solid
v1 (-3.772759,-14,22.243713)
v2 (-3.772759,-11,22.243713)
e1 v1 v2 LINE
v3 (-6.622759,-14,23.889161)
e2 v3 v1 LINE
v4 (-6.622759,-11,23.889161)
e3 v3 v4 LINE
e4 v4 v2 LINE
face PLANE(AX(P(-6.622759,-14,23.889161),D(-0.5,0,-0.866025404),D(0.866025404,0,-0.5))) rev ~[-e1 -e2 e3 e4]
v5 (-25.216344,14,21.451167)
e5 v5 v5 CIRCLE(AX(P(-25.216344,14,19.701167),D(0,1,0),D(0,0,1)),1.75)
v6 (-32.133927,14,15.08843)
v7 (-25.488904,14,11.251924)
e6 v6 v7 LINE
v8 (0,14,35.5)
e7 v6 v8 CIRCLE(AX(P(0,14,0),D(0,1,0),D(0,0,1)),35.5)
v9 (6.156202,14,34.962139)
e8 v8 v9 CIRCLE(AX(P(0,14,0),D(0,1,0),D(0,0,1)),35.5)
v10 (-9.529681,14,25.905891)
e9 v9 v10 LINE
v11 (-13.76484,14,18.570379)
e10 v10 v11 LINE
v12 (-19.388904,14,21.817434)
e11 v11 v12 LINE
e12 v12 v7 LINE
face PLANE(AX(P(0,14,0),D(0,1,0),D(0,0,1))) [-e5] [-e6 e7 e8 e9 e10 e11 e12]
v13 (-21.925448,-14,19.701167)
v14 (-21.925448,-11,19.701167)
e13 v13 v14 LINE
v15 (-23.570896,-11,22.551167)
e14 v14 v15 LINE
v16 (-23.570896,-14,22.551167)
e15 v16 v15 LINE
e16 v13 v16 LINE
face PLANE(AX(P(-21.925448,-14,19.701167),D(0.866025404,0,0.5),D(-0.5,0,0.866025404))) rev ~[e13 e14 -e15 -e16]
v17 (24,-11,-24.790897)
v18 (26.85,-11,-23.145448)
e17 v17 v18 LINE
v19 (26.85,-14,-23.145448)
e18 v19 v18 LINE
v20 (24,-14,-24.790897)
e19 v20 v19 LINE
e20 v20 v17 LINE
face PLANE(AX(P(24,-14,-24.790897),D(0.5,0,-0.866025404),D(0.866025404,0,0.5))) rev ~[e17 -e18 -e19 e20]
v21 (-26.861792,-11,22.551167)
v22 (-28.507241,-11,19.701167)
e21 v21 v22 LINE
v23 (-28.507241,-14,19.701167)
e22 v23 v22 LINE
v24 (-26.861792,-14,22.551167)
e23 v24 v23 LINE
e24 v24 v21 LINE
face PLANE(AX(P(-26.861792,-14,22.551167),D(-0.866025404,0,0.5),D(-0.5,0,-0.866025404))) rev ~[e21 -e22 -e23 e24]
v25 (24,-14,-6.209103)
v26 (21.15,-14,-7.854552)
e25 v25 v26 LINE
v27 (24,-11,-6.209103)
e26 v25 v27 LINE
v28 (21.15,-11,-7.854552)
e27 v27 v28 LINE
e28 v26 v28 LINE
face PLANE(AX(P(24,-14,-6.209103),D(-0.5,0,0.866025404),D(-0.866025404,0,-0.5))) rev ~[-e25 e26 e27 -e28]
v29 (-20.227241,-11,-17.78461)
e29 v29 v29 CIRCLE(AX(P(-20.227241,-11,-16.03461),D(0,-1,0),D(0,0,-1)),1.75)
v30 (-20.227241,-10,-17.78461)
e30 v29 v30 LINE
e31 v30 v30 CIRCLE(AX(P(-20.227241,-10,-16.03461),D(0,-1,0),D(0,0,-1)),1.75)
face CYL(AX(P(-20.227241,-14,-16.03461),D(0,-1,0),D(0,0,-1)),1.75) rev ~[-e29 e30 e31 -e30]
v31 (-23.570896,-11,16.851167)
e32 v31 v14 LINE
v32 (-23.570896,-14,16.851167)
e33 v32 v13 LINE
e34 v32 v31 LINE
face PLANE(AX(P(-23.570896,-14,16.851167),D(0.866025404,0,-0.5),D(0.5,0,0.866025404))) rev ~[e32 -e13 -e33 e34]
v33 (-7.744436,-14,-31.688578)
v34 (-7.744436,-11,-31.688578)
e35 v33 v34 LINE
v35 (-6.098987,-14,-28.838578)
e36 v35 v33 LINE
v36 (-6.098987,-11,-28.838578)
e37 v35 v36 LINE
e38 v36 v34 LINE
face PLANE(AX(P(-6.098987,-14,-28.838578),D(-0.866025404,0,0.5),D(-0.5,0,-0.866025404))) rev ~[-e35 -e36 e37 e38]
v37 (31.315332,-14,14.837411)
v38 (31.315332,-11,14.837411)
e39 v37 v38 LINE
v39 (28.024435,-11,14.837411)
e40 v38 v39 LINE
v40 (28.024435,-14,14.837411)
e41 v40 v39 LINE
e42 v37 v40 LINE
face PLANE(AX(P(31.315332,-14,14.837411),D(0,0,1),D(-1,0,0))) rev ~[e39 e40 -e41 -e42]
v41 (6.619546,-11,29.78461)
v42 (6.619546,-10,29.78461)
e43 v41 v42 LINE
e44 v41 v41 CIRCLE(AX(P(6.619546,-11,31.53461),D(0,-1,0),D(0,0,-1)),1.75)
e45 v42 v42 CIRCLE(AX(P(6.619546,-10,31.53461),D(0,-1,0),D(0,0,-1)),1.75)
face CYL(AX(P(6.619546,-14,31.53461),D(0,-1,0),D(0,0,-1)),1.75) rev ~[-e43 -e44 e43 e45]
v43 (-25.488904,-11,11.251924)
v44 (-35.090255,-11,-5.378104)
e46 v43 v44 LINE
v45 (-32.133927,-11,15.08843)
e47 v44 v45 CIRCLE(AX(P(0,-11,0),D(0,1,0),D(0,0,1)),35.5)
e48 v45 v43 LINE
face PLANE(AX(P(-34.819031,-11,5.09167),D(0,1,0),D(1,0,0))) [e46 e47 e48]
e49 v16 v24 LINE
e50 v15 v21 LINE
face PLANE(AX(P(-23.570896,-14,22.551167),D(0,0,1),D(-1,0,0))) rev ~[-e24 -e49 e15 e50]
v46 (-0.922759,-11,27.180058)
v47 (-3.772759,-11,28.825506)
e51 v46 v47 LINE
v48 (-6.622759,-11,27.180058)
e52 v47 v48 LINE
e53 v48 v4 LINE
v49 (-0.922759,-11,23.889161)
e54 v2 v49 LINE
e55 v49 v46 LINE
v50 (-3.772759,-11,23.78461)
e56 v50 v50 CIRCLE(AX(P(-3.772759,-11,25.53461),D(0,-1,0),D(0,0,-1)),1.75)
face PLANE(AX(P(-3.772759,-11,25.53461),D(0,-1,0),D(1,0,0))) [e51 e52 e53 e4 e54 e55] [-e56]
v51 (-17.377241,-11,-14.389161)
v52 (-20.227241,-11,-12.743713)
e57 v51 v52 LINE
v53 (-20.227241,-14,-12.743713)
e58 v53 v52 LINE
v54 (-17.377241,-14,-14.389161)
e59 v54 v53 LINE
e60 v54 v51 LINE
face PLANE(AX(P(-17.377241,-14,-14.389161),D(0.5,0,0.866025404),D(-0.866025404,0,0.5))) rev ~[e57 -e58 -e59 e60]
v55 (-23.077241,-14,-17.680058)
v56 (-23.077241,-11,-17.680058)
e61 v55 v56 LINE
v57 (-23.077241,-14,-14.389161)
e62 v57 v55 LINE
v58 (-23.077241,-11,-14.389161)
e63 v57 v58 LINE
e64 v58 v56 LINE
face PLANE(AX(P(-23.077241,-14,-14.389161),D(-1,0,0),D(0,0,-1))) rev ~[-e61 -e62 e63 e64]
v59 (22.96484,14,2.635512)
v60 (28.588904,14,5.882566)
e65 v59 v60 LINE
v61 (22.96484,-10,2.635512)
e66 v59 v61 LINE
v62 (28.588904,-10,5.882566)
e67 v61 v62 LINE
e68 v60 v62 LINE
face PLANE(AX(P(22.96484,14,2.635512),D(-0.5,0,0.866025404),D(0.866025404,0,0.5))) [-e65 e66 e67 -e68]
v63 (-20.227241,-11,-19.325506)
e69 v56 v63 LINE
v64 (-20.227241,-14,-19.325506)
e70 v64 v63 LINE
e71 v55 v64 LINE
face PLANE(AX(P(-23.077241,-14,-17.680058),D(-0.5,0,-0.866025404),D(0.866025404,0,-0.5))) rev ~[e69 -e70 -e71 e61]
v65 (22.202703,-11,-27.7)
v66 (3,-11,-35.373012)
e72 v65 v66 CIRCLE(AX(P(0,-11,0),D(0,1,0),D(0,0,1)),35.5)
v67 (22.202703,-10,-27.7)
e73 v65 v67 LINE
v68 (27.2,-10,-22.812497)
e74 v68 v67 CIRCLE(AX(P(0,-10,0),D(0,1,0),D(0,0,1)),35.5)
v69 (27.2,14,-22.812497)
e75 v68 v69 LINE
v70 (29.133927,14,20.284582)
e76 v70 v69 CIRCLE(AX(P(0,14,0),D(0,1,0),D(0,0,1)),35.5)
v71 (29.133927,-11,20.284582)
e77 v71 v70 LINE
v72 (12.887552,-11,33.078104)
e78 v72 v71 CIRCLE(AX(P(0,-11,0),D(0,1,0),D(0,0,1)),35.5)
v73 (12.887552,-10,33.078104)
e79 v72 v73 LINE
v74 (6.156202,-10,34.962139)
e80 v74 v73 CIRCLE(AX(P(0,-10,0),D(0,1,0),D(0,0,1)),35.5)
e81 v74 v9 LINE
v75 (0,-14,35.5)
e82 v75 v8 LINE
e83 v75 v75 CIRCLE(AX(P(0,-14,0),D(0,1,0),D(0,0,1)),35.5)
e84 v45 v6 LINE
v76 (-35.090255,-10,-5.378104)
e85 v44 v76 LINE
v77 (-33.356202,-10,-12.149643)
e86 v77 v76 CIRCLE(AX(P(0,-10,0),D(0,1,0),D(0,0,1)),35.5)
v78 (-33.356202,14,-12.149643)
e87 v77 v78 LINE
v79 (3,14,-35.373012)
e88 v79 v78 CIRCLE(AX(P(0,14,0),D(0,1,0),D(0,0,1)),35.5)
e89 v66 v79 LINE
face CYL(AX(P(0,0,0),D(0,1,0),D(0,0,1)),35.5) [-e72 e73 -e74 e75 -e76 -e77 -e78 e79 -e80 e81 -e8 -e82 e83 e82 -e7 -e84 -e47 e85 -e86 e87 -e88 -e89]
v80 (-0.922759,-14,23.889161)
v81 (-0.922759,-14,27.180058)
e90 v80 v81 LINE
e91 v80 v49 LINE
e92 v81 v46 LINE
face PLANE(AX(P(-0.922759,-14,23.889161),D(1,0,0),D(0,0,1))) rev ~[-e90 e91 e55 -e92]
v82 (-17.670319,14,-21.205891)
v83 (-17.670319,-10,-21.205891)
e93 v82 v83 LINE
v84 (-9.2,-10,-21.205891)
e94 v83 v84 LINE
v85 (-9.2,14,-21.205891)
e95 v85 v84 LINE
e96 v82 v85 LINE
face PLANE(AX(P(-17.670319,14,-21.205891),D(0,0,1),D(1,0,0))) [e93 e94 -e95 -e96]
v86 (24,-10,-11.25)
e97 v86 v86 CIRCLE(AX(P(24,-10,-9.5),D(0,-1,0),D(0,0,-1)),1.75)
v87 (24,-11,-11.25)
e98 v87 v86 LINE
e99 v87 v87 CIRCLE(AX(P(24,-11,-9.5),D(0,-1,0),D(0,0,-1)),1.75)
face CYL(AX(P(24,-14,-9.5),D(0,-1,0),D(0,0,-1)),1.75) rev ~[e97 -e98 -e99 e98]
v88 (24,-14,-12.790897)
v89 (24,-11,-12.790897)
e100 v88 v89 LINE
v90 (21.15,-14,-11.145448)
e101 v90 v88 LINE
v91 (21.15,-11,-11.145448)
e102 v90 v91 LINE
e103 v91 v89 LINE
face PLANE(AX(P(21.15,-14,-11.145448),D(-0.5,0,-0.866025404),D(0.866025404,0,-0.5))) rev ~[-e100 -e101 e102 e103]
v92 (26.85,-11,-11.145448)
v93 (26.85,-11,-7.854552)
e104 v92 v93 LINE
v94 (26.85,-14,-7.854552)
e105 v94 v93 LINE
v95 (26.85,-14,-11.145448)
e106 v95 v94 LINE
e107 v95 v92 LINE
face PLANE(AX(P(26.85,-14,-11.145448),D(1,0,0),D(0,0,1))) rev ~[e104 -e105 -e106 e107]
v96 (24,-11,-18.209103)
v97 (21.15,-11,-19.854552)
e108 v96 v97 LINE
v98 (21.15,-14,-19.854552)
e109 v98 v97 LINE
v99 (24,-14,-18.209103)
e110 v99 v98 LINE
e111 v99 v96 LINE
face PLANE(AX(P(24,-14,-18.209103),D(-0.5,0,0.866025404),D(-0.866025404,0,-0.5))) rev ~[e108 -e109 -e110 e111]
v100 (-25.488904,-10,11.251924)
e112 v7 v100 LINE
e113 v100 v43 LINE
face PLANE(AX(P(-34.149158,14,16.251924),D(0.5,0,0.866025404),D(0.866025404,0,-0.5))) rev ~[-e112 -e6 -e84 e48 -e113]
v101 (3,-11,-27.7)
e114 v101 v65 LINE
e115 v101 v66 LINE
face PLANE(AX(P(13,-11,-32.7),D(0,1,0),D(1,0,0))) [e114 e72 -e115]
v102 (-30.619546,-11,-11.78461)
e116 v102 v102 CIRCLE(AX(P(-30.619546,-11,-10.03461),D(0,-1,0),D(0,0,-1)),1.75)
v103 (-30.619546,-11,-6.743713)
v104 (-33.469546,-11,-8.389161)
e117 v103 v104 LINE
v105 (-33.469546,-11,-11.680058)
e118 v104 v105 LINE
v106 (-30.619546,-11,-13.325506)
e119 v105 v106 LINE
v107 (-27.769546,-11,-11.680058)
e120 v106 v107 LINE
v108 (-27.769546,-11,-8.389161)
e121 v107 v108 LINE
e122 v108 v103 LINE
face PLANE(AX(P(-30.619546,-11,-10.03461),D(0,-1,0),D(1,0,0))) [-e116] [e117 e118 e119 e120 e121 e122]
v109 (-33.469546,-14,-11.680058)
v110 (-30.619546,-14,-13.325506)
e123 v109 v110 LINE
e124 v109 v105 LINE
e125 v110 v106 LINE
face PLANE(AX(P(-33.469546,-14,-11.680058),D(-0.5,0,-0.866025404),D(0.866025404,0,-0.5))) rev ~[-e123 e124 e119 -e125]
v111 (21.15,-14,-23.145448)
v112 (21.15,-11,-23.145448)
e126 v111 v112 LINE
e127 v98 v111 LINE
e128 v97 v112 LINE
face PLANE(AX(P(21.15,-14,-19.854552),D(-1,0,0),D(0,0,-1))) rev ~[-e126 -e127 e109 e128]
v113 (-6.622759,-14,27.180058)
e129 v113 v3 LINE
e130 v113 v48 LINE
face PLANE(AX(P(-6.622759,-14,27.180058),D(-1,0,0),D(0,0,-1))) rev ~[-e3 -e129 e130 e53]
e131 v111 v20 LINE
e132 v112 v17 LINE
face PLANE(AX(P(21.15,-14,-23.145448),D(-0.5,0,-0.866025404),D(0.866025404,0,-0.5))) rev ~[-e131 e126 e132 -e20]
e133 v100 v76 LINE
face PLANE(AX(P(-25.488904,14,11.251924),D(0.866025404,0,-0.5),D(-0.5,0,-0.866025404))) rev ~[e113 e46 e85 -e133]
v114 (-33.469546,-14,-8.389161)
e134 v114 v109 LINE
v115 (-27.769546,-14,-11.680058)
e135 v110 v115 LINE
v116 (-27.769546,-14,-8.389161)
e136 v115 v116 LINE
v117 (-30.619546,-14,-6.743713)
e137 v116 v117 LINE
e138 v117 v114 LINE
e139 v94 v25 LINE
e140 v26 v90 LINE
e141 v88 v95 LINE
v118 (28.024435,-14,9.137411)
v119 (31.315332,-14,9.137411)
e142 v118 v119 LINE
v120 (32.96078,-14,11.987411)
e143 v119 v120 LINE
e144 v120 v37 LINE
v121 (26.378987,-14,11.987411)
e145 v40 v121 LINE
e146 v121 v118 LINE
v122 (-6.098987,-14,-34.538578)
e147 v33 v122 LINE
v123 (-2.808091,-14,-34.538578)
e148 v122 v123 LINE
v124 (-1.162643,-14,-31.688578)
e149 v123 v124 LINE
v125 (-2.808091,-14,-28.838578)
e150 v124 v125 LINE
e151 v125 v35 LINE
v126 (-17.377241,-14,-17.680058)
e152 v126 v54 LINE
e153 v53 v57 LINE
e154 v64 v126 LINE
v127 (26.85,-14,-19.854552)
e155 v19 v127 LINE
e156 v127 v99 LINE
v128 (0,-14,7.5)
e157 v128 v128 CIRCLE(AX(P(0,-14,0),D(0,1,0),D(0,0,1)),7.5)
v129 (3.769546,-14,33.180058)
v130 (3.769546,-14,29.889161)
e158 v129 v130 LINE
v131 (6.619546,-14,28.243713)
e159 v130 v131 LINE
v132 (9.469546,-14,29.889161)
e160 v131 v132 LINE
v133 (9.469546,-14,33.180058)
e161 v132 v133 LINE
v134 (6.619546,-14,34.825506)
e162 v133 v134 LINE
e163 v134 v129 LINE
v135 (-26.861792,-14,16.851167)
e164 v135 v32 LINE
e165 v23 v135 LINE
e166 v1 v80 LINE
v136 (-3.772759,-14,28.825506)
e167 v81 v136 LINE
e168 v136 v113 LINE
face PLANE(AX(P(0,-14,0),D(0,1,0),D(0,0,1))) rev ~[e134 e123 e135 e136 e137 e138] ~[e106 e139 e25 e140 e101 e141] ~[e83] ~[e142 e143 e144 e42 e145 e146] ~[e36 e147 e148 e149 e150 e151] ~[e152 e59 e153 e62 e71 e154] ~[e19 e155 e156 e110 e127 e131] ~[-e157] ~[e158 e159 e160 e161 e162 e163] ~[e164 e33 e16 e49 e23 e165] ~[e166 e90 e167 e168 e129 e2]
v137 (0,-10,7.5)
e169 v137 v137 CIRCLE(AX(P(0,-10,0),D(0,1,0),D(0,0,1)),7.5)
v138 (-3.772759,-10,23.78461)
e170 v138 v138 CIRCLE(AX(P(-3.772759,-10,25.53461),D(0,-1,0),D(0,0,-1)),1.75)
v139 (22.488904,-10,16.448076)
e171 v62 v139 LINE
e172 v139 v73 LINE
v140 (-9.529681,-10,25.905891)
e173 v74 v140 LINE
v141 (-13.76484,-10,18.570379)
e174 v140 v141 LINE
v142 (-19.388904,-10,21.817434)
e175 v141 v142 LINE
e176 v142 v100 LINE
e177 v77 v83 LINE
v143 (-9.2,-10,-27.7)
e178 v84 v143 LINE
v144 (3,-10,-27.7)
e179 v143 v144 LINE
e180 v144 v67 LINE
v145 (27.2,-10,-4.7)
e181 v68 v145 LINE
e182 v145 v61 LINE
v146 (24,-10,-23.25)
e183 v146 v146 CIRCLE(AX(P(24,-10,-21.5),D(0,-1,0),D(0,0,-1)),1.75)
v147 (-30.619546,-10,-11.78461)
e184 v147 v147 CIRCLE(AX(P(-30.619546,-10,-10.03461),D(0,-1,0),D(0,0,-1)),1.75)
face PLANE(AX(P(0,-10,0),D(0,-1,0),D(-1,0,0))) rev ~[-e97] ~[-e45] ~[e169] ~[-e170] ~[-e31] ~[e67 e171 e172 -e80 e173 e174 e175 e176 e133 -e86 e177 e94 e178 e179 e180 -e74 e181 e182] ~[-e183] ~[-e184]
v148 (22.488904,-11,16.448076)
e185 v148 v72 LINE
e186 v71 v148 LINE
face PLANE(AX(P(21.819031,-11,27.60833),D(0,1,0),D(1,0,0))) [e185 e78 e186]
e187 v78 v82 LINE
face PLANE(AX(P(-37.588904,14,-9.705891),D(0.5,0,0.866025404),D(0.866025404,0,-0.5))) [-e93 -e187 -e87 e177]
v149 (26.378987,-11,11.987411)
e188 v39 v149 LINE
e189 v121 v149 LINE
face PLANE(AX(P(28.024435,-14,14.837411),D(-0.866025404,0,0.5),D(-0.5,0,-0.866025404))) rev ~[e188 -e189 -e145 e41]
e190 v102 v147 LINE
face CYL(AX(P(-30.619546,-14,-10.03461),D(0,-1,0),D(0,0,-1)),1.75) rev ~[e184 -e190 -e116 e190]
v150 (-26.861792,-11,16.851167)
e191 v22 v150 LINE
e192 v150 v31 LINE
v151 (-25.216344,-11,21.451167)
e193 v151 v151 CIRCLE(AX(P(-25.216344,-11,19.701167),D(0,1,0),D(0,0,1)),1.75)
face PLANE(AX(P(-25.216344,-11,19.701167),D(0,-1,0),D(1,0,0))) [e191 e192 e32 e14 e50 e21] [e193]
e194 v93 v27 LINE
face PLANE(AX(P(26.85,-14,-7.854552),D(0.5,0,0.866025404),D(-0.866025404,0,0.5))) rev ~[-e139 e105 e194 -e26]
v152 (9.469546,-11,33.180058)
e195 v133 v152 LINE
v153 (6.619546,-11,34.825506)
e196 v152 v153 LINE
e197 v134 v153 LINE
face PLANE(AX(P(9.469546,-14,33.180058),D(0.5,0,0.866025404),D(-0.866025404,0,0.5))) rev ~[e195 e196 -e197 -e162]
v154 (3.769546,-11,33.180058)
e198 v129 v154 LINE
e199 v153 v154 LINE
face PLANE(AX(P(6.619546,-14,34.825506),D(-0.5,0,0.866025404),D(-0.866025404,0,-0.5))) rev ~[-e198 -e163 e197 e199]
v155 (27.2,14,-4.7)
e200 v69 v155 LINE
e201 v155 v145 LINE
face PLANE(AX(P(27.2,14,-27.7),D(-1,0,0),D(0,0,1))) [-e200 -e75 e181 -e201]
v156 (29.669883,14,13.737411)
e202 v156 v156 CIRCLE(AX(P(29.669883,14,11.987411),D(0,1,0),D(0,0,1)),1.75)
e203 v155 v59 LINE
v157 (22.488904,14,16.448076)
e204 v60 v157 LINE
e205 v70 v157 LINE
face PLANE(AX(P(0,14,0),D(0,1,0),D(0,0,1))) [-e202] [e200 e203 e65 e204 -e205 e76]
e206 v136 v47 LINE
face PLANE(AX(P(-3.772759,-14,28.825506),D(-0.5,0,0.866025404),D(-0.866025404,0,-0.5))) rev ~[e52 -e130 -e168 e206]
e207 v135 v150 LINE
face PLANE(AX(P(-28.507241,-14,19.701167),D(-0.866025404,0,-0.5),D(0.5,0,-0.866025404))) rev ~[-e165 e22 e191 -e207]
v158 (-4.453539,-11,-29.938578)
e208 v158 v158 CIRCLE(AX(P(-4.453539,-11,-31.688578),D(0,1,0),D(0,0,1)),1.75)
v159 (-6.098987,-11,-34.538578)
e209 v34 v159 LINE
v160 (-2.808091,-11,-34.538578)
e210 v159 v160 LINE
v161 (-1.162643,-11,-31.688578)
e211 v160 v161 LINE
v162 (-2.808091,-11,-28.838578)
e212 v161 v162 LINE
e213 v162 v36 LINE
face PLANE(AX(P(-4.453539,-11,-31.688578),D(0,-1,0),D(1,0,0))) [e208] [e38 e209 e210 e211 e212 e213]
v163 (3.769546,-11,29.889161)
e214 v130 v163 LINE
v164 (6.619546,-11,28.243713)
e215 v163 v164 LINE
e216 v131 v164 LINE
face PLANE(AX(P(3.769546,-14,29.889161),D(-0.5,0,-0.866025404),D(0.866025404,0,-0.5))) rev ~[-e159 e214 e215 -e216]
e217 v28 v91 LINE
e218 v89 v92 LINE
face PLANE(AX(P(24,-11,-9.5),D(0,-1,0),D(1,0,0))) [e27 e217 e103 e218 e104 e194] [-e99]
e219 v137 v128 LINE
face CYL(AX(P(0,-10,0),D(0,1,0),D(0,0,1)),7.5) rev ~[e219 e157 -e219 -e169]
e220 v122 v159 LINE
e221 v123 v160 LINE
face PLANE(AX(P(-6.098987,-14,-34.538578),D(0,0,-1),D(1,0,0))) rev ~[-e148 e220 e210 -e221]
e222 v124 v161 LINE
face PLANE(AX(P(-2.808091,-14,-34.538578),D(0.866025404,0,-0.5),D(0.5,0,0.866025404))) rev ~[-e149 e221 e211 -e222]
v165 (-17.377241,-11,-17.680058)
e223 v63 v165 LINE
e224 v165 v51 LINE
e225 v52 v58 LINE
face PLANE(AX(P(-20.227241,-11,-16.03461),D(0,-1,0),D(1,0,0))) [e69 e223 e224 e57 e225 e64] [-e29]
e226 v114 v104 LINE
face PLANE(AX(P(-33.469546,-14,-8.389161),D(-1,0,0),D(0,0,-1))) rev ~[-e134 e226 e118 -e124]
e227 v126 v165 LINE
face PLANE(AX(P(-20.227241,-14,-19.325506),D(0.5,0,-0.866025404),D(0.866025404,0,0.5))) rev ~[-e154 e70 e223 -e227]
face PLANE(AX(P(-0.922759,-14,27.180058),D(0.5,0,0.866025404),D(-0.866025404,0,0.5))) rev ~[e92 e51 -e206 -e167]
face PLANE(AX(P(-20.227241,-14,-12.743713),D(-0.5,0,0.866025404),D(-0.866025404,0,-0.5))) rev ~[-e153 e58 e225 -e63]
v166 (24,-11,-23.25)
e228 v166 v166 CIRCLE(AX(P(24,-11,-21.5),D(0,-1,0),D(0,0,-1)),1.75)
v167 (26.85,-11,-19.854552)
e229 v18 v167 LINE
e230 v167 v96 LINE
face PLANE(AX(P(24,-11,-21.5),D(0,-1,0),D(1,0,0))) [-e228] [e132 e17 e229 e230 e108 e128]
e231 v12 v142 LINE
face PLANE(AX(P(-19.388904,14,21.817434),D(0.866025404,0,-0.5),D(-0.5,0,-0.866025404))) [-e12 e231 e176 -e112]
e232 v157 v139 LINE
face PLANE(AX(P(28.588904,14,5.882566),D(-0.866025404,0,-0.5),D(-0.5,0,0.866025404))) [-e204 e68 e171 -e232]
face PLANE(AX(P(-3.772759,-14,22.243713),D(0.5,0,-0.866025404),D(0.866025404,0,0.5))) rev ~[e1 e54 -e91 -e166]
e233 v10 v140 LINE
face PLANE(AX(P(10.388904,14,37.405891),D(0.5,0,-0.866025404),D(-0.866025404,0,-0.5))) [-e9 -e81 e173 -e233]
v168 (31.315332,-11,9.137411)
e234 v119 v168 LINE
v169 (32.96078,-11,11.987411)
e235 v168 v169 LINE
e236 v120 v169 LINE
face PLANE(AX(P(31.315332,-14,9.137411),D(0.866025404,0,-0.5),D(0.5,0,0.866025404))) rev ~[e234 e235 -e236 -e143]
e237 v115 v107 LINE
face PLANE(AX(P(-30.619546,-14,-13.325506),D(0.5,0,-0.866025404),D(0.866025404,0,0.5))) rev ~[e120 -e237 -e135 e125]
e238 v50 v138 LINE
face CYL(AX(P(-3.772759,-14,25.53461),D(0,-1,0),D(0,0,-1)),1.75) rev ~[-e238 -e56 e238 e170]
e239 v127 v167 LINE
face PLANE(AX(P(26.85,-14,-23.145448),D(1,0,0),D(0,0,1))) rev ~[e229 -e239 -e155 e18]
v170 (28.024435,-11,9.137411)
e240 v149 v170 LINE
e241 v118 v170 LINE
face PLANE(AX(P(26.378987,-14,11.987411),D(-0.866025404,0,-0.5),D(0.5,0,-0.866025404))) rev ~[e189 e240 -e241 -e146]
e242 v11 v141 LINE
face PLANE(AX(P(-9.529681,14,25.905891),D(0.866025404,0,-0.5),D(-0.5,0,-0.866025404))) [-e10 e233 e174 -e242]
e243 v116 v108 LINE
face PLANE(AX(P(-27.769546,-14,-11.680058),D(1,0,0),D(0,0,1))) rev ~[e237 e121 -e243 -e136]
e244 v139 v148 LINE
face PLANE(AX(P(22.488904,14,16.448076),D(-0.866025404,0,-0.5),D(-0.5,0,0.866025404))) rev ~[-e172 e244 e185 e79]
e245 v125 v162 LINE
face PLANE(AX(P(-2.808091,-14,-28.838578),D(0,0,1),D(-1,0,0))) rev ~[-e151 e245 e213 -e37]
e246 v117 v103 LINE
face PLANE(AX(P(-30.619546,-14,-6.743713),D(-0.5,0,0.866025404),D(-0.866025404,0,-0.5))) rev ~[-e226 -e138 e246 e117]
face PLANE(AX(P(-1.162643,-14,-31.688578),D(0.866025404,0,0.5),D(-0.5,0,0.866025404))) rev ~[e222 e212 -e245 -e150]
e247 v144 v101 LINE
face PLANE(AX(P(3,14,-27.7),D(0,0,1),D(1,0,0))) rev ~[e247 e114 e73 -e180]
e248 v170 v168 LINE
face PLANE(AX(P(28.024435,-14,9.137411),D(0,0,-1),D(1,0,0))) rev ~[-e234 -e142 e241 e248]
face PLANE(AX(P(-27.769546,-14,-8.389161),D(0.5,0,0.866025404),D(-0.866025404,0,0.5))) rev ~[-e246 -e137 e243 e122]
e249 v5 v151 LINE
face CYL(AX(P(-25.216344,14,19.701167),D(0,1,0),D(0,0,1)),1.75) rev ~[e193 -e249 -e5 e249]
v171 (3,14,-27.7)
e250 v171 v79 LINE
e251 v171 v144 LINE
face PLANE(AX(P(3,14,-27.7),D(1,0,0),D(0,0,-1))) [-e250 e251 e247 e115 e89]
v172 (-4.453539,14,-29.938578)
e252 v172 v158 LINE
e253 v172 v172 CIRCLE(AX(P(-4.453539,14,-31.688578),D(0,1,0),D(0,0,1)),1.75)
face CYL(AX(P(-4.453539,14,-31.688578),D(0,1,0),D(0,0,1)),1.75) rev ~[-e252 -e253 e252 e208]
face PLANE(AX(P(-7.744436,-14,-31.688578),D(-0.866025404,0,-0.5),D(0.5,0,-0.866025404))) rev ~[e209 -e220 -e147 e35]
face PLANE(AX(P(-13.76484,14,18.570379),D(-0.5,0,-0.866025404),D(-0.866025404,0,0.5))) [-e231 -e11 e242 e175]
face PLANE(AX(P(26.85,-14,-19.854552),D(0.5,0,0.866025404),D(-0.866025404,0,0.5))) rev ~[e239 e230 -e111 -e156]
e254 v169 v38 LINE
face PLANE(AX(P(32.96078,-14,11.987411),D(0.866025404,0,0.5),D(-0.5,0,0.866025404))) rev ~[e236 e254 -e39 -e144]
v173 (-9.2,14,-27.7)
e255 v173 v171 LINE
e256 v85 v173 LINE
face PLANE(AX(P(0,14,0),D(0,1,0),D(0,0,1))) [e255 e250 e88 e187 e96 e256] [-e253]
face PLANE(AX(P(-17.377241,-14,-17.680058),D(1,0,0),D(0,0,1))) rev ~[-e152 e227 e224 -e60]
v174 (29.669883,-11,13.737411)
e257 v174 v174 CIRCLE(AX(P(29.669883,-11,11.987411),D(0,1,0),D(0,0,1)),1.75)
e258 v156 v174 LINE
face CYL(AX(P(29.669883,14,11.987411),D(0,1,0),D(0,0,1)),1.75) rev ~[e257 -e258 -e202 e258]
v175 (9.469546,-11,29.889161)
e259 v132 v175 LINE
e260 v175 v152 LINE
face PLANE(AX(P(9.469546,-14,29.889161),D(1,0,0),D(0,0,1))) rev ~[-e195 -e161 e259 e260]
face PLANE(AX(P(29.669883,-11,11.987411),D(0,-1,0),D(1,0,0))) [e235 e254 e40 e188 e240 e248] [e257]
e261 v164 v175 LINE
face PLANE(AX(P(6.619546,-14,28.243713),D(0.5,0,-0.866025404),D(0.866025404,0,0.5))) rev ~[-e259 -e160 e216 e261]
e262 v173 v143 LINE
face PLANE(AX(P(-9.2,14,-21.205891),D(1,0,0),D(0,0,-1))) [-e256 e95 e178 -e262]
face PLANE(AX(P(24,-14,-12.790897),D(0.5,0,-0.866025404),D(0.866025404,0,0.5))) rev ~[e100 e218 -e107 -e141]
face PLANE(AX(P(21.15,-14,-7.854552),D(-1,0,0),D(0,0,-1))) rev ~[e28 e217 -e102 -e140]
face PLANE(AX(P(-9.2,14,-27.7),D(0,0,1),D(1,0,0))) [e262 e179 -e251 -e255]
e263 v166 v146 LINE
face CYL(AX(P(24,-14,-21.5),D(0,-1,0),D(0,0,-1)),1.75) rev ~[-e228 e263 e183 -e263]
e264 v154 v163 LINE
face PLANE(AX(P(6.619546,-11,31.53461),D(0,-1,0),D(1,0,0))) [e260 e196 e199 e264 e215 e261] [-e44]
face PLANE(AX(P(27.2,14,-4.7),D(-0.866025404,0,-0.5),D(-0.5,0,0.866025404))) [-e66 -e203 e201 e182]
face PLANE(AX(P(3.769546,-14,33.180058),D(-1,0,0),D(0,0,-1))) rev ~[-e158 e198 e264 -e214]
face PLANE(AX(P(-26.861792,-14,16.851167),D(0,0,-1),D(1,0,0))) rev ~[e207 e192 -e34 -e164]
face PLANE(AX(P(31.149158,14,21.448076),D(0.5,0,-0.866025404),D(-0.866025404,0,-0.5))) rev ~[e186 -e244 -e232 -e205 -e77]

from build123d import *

# Parameters (mm, degrees)
SKETCH1_R           = 35.5
BOSS_EXTRUDE1_DEPTH = 14
CUT_EXTRUDE1_DEPTH  = 24
SKETCH3_W           = 20
SKETCH3_H           = 10
CUT_EXTRUDE2_DEPTH  = 25
SKETCH4_R           = 1.75
CUT_EXTRUDE3_DEPTH  = 58.484780595
CUT_EXTRUDE4_DEPTH  = 3
SKETCH6_R           = 1.75
CUT_EXTRUDE5_DEPTH  = 58.484780595
CUT_EXTRUDE6_DEPTH  = 3
SKETCH8_R           = 7.5
CUT_EXTRUDE7_DEPTH  = 56.646203824


with BuildPart() as part:
    # Sketch1 → Boss-Extrude1 (new, symmetric)
    with BuildSketch(Plane(origin=(0, 0, 0), x_dir=(1, 0, 0), z_dir=(0, 1, 0))):
        with Locations(Location((0, 0, 0), (0, 0, 270))):
            Circle(SKETCH1_R)
    extrude(amount=BOSS_EXTRUDE1_DEPTH, both=True)

    # Sketch2 → Cut-Extrude1 (cut)
    with BuildSketch(Plane(origin=(0, 14, 0), x_dir=(1, 0, 0), z_dir=(0, 1, 0))):
        Polygon((27.2, 27.7), (27.2, 4.7), (22.964840301, -2.635511777), (28.588903685, -5.882566285), (10.388903685, -37.405890983), (-9.529680602, -25.905890983), (-13.764840301, -18.570379206), (-19.388903685, -21.817433715), (-37.588903685, 9.705890983), (-17.670319398, 21.205890983), (-9.2, 21.205890983), (-9.2, 27.7), align=None)
    extrude(amount=-CUT_EXTRUDE1_DEPTH, mode=Mode.SUBTRACT)

    # Sketch3 → Cut-Extrude2 (cut)
    with BuildSketch(Plane(origin=(0, 14, 0), x_dir=(1, 0, 0), z_dir=(0, 1, 0))):
        Polygon((-35.488903685, 6.068584287), (-44.149157723, 1.068584287), (-34.149157723, -16.251923789), (-25.488903685, -11.251923789), align=None)
        with Locations((13, 32.7)):
            Rectangle(SKETCH3_W, SKETCH3_H)
        Polygon((12.488903685, -33.768584287), (21.149157723, -38.768584287), (31.149157723, -21.448076211), (22.488903685, -16.448076211), align=None)
    extrude(amount=-CUT_EXTRUDE2_DEPTH, mode=Mode.SUBTRACT)

    # Sketch4 → Cut-Extrude3 (cut, through all)
    with BuildSketch(Plane(origin=(0, 14, 0), x_dir=(1, 0, 0), z_dir=(0, 1, 0))):
        with Locations(Location((-4.453539231, 31.6885782, 0), (0, 0, 270))):
            Circle(SKETCH4_R)
        with Locations(Location((29.669883346, -11.987410989, 0), (0, 0, 270))):
            Circle(SKETCH4_R)
        with Locations(Location((-25.216344115, -19.70116721, 0), (0, 0, 270))):
            Circle(SKETCH4_R)
    extrude(amount=-CUT_EXTRUDE3_DEPTH, mode=Mode.SUBTRACT)

    # Sketch5 → Cut-Extrude4 (cut)
    with BuildSketch(Plane.XZ.offset(14)):
        Polygon((-26.861792383, 22.55116721), (-28.50724065, 19.70116721), (-26.861792383, 16.85116721), (-23.570895848, 16.85116721), (-21.925447581, 19.70116721), (-23.570895848, 22.55116721), align=None)
        Polygon((32.960779881, 11.987410989), (31.315331613, 14.837410989), (28.024435079, 14.837410989), (26.378986812, 11.987410989), (28.024435079, 9.137410989), (31.315331613, 9.137410989), align=None)
        Polygon((-6.098987498, -34.5385782), (-2.808090964, -34.5385782), (-1.162642696, -31.6885782), (-2.808090964, -28.8385782), (-6.098987498, -28.8385782), (-7.744435765, -31.6885782), align=None)
    extrude(amount=-CUT_EXTRUDE4_DEPTH, mode=Mode.SUBTRACT)

    # Sketch6 → Cut-Extrude5 (cut, through all)
    with BuildSketch(Plane.XZ.offset(14)):
        with Locations(Location((6.619546181, 31.534609691, 0), (0, 0, 270))):
            Circle(SKETCH6_R)
        with Locations(Location((-3.772758664, 25.534609691, 0), (0, 0, 270))):
            Circle(SKETCH6_R)
        with Locations(Location((24, -21.5, 0), (0, 0, 270))):
            Circle(SKETCH6_R)
        with Locations(Location((24, -9.5, 0), (0, 0, 270))):
            Circle(SKETCH6_R)
        with Locations(Location((-30.619546181, -10.034609691, 0), (0, 0, 270))):
            Circle(SKETCH6_R)
        with Locations(Location((-20.227241336, -16.034609691, 0), (0, 0, 270))):
            Circle(SKETCH6_R)
    extrude(amount=-CUT_EXTRUDE5_DEPTH, mode=Mode.SUBTRACT)

    # Sketch7 → Cut-Extrude6 (cut)
    with BuildSketch(Plane.XZ.offset(14)):
        Polygon((9.469546181, 29.889161424), (9.469546181, 33.180057958), (6.619546181, 34.825506225), (3.769546181, 33.180057958), (3.769546181, 29.889161424), (6.619546181, 28.243713156), align=None)
        Polygon((-30.619546181, -6.743713156), (-33.469546181, -8.389161424), (-33.469546181, -11.680057958), (-30.619546181, -13.325506225), (-27.769546181, -11.680057958), (-27.769546181, -8.389161424), align=None)
        Polygon((-23.077241336, -14.389161424), (-23.077241336, -17.680057958), (-20.227241336, -19.325506225), (-17.377241336, -17.680057958), (-17.377241336, -14.389161424), (-20.227241336, -12.743713156), align=None)
        Polygon((-0.922758664, 27.180057958), (-3.772758664, 28.825506225), (-6.622758664, 27.180057958), (-6.622758664, 23.889161424), (-3.772758664, 22.243713156), (-0.922758664, 23.889161424), align=None)
        Polygon((21.15, -23.145448267), (24, -24.790896534), (26.85, -23.145448267), (26.85, -19.854551733), (24, -18.209103466), (21.15, -19.854551733), align=None)
        Polygon((24, -12.790896534), (26.85, -11.145448267), (26.85, -7.854551733), (24, -6.209103466), (21.15, -7.854551733), (21.15, -11.145448267), align=None)
    extrude(amount=-CUT_EXTRUDE6_DEPTH, mode=Mode.SUBTRACT)

    # Sketch8 → Cut-Extrude7 (cut, through all)
    with BuildSketch(Plane(origin=(0, -10, 0), x_dir=(1, 0, 0), z_dir=(0, 1, 0))):
        with Locations(Location((0, 0, 0), (0, 0, 270))):
            Circle(SKETCH8_R)
    extrude(amount=-CUT_EXTRUDE7_DEPTH, mode=Mode.SUBTRACT)


solid = part.part
